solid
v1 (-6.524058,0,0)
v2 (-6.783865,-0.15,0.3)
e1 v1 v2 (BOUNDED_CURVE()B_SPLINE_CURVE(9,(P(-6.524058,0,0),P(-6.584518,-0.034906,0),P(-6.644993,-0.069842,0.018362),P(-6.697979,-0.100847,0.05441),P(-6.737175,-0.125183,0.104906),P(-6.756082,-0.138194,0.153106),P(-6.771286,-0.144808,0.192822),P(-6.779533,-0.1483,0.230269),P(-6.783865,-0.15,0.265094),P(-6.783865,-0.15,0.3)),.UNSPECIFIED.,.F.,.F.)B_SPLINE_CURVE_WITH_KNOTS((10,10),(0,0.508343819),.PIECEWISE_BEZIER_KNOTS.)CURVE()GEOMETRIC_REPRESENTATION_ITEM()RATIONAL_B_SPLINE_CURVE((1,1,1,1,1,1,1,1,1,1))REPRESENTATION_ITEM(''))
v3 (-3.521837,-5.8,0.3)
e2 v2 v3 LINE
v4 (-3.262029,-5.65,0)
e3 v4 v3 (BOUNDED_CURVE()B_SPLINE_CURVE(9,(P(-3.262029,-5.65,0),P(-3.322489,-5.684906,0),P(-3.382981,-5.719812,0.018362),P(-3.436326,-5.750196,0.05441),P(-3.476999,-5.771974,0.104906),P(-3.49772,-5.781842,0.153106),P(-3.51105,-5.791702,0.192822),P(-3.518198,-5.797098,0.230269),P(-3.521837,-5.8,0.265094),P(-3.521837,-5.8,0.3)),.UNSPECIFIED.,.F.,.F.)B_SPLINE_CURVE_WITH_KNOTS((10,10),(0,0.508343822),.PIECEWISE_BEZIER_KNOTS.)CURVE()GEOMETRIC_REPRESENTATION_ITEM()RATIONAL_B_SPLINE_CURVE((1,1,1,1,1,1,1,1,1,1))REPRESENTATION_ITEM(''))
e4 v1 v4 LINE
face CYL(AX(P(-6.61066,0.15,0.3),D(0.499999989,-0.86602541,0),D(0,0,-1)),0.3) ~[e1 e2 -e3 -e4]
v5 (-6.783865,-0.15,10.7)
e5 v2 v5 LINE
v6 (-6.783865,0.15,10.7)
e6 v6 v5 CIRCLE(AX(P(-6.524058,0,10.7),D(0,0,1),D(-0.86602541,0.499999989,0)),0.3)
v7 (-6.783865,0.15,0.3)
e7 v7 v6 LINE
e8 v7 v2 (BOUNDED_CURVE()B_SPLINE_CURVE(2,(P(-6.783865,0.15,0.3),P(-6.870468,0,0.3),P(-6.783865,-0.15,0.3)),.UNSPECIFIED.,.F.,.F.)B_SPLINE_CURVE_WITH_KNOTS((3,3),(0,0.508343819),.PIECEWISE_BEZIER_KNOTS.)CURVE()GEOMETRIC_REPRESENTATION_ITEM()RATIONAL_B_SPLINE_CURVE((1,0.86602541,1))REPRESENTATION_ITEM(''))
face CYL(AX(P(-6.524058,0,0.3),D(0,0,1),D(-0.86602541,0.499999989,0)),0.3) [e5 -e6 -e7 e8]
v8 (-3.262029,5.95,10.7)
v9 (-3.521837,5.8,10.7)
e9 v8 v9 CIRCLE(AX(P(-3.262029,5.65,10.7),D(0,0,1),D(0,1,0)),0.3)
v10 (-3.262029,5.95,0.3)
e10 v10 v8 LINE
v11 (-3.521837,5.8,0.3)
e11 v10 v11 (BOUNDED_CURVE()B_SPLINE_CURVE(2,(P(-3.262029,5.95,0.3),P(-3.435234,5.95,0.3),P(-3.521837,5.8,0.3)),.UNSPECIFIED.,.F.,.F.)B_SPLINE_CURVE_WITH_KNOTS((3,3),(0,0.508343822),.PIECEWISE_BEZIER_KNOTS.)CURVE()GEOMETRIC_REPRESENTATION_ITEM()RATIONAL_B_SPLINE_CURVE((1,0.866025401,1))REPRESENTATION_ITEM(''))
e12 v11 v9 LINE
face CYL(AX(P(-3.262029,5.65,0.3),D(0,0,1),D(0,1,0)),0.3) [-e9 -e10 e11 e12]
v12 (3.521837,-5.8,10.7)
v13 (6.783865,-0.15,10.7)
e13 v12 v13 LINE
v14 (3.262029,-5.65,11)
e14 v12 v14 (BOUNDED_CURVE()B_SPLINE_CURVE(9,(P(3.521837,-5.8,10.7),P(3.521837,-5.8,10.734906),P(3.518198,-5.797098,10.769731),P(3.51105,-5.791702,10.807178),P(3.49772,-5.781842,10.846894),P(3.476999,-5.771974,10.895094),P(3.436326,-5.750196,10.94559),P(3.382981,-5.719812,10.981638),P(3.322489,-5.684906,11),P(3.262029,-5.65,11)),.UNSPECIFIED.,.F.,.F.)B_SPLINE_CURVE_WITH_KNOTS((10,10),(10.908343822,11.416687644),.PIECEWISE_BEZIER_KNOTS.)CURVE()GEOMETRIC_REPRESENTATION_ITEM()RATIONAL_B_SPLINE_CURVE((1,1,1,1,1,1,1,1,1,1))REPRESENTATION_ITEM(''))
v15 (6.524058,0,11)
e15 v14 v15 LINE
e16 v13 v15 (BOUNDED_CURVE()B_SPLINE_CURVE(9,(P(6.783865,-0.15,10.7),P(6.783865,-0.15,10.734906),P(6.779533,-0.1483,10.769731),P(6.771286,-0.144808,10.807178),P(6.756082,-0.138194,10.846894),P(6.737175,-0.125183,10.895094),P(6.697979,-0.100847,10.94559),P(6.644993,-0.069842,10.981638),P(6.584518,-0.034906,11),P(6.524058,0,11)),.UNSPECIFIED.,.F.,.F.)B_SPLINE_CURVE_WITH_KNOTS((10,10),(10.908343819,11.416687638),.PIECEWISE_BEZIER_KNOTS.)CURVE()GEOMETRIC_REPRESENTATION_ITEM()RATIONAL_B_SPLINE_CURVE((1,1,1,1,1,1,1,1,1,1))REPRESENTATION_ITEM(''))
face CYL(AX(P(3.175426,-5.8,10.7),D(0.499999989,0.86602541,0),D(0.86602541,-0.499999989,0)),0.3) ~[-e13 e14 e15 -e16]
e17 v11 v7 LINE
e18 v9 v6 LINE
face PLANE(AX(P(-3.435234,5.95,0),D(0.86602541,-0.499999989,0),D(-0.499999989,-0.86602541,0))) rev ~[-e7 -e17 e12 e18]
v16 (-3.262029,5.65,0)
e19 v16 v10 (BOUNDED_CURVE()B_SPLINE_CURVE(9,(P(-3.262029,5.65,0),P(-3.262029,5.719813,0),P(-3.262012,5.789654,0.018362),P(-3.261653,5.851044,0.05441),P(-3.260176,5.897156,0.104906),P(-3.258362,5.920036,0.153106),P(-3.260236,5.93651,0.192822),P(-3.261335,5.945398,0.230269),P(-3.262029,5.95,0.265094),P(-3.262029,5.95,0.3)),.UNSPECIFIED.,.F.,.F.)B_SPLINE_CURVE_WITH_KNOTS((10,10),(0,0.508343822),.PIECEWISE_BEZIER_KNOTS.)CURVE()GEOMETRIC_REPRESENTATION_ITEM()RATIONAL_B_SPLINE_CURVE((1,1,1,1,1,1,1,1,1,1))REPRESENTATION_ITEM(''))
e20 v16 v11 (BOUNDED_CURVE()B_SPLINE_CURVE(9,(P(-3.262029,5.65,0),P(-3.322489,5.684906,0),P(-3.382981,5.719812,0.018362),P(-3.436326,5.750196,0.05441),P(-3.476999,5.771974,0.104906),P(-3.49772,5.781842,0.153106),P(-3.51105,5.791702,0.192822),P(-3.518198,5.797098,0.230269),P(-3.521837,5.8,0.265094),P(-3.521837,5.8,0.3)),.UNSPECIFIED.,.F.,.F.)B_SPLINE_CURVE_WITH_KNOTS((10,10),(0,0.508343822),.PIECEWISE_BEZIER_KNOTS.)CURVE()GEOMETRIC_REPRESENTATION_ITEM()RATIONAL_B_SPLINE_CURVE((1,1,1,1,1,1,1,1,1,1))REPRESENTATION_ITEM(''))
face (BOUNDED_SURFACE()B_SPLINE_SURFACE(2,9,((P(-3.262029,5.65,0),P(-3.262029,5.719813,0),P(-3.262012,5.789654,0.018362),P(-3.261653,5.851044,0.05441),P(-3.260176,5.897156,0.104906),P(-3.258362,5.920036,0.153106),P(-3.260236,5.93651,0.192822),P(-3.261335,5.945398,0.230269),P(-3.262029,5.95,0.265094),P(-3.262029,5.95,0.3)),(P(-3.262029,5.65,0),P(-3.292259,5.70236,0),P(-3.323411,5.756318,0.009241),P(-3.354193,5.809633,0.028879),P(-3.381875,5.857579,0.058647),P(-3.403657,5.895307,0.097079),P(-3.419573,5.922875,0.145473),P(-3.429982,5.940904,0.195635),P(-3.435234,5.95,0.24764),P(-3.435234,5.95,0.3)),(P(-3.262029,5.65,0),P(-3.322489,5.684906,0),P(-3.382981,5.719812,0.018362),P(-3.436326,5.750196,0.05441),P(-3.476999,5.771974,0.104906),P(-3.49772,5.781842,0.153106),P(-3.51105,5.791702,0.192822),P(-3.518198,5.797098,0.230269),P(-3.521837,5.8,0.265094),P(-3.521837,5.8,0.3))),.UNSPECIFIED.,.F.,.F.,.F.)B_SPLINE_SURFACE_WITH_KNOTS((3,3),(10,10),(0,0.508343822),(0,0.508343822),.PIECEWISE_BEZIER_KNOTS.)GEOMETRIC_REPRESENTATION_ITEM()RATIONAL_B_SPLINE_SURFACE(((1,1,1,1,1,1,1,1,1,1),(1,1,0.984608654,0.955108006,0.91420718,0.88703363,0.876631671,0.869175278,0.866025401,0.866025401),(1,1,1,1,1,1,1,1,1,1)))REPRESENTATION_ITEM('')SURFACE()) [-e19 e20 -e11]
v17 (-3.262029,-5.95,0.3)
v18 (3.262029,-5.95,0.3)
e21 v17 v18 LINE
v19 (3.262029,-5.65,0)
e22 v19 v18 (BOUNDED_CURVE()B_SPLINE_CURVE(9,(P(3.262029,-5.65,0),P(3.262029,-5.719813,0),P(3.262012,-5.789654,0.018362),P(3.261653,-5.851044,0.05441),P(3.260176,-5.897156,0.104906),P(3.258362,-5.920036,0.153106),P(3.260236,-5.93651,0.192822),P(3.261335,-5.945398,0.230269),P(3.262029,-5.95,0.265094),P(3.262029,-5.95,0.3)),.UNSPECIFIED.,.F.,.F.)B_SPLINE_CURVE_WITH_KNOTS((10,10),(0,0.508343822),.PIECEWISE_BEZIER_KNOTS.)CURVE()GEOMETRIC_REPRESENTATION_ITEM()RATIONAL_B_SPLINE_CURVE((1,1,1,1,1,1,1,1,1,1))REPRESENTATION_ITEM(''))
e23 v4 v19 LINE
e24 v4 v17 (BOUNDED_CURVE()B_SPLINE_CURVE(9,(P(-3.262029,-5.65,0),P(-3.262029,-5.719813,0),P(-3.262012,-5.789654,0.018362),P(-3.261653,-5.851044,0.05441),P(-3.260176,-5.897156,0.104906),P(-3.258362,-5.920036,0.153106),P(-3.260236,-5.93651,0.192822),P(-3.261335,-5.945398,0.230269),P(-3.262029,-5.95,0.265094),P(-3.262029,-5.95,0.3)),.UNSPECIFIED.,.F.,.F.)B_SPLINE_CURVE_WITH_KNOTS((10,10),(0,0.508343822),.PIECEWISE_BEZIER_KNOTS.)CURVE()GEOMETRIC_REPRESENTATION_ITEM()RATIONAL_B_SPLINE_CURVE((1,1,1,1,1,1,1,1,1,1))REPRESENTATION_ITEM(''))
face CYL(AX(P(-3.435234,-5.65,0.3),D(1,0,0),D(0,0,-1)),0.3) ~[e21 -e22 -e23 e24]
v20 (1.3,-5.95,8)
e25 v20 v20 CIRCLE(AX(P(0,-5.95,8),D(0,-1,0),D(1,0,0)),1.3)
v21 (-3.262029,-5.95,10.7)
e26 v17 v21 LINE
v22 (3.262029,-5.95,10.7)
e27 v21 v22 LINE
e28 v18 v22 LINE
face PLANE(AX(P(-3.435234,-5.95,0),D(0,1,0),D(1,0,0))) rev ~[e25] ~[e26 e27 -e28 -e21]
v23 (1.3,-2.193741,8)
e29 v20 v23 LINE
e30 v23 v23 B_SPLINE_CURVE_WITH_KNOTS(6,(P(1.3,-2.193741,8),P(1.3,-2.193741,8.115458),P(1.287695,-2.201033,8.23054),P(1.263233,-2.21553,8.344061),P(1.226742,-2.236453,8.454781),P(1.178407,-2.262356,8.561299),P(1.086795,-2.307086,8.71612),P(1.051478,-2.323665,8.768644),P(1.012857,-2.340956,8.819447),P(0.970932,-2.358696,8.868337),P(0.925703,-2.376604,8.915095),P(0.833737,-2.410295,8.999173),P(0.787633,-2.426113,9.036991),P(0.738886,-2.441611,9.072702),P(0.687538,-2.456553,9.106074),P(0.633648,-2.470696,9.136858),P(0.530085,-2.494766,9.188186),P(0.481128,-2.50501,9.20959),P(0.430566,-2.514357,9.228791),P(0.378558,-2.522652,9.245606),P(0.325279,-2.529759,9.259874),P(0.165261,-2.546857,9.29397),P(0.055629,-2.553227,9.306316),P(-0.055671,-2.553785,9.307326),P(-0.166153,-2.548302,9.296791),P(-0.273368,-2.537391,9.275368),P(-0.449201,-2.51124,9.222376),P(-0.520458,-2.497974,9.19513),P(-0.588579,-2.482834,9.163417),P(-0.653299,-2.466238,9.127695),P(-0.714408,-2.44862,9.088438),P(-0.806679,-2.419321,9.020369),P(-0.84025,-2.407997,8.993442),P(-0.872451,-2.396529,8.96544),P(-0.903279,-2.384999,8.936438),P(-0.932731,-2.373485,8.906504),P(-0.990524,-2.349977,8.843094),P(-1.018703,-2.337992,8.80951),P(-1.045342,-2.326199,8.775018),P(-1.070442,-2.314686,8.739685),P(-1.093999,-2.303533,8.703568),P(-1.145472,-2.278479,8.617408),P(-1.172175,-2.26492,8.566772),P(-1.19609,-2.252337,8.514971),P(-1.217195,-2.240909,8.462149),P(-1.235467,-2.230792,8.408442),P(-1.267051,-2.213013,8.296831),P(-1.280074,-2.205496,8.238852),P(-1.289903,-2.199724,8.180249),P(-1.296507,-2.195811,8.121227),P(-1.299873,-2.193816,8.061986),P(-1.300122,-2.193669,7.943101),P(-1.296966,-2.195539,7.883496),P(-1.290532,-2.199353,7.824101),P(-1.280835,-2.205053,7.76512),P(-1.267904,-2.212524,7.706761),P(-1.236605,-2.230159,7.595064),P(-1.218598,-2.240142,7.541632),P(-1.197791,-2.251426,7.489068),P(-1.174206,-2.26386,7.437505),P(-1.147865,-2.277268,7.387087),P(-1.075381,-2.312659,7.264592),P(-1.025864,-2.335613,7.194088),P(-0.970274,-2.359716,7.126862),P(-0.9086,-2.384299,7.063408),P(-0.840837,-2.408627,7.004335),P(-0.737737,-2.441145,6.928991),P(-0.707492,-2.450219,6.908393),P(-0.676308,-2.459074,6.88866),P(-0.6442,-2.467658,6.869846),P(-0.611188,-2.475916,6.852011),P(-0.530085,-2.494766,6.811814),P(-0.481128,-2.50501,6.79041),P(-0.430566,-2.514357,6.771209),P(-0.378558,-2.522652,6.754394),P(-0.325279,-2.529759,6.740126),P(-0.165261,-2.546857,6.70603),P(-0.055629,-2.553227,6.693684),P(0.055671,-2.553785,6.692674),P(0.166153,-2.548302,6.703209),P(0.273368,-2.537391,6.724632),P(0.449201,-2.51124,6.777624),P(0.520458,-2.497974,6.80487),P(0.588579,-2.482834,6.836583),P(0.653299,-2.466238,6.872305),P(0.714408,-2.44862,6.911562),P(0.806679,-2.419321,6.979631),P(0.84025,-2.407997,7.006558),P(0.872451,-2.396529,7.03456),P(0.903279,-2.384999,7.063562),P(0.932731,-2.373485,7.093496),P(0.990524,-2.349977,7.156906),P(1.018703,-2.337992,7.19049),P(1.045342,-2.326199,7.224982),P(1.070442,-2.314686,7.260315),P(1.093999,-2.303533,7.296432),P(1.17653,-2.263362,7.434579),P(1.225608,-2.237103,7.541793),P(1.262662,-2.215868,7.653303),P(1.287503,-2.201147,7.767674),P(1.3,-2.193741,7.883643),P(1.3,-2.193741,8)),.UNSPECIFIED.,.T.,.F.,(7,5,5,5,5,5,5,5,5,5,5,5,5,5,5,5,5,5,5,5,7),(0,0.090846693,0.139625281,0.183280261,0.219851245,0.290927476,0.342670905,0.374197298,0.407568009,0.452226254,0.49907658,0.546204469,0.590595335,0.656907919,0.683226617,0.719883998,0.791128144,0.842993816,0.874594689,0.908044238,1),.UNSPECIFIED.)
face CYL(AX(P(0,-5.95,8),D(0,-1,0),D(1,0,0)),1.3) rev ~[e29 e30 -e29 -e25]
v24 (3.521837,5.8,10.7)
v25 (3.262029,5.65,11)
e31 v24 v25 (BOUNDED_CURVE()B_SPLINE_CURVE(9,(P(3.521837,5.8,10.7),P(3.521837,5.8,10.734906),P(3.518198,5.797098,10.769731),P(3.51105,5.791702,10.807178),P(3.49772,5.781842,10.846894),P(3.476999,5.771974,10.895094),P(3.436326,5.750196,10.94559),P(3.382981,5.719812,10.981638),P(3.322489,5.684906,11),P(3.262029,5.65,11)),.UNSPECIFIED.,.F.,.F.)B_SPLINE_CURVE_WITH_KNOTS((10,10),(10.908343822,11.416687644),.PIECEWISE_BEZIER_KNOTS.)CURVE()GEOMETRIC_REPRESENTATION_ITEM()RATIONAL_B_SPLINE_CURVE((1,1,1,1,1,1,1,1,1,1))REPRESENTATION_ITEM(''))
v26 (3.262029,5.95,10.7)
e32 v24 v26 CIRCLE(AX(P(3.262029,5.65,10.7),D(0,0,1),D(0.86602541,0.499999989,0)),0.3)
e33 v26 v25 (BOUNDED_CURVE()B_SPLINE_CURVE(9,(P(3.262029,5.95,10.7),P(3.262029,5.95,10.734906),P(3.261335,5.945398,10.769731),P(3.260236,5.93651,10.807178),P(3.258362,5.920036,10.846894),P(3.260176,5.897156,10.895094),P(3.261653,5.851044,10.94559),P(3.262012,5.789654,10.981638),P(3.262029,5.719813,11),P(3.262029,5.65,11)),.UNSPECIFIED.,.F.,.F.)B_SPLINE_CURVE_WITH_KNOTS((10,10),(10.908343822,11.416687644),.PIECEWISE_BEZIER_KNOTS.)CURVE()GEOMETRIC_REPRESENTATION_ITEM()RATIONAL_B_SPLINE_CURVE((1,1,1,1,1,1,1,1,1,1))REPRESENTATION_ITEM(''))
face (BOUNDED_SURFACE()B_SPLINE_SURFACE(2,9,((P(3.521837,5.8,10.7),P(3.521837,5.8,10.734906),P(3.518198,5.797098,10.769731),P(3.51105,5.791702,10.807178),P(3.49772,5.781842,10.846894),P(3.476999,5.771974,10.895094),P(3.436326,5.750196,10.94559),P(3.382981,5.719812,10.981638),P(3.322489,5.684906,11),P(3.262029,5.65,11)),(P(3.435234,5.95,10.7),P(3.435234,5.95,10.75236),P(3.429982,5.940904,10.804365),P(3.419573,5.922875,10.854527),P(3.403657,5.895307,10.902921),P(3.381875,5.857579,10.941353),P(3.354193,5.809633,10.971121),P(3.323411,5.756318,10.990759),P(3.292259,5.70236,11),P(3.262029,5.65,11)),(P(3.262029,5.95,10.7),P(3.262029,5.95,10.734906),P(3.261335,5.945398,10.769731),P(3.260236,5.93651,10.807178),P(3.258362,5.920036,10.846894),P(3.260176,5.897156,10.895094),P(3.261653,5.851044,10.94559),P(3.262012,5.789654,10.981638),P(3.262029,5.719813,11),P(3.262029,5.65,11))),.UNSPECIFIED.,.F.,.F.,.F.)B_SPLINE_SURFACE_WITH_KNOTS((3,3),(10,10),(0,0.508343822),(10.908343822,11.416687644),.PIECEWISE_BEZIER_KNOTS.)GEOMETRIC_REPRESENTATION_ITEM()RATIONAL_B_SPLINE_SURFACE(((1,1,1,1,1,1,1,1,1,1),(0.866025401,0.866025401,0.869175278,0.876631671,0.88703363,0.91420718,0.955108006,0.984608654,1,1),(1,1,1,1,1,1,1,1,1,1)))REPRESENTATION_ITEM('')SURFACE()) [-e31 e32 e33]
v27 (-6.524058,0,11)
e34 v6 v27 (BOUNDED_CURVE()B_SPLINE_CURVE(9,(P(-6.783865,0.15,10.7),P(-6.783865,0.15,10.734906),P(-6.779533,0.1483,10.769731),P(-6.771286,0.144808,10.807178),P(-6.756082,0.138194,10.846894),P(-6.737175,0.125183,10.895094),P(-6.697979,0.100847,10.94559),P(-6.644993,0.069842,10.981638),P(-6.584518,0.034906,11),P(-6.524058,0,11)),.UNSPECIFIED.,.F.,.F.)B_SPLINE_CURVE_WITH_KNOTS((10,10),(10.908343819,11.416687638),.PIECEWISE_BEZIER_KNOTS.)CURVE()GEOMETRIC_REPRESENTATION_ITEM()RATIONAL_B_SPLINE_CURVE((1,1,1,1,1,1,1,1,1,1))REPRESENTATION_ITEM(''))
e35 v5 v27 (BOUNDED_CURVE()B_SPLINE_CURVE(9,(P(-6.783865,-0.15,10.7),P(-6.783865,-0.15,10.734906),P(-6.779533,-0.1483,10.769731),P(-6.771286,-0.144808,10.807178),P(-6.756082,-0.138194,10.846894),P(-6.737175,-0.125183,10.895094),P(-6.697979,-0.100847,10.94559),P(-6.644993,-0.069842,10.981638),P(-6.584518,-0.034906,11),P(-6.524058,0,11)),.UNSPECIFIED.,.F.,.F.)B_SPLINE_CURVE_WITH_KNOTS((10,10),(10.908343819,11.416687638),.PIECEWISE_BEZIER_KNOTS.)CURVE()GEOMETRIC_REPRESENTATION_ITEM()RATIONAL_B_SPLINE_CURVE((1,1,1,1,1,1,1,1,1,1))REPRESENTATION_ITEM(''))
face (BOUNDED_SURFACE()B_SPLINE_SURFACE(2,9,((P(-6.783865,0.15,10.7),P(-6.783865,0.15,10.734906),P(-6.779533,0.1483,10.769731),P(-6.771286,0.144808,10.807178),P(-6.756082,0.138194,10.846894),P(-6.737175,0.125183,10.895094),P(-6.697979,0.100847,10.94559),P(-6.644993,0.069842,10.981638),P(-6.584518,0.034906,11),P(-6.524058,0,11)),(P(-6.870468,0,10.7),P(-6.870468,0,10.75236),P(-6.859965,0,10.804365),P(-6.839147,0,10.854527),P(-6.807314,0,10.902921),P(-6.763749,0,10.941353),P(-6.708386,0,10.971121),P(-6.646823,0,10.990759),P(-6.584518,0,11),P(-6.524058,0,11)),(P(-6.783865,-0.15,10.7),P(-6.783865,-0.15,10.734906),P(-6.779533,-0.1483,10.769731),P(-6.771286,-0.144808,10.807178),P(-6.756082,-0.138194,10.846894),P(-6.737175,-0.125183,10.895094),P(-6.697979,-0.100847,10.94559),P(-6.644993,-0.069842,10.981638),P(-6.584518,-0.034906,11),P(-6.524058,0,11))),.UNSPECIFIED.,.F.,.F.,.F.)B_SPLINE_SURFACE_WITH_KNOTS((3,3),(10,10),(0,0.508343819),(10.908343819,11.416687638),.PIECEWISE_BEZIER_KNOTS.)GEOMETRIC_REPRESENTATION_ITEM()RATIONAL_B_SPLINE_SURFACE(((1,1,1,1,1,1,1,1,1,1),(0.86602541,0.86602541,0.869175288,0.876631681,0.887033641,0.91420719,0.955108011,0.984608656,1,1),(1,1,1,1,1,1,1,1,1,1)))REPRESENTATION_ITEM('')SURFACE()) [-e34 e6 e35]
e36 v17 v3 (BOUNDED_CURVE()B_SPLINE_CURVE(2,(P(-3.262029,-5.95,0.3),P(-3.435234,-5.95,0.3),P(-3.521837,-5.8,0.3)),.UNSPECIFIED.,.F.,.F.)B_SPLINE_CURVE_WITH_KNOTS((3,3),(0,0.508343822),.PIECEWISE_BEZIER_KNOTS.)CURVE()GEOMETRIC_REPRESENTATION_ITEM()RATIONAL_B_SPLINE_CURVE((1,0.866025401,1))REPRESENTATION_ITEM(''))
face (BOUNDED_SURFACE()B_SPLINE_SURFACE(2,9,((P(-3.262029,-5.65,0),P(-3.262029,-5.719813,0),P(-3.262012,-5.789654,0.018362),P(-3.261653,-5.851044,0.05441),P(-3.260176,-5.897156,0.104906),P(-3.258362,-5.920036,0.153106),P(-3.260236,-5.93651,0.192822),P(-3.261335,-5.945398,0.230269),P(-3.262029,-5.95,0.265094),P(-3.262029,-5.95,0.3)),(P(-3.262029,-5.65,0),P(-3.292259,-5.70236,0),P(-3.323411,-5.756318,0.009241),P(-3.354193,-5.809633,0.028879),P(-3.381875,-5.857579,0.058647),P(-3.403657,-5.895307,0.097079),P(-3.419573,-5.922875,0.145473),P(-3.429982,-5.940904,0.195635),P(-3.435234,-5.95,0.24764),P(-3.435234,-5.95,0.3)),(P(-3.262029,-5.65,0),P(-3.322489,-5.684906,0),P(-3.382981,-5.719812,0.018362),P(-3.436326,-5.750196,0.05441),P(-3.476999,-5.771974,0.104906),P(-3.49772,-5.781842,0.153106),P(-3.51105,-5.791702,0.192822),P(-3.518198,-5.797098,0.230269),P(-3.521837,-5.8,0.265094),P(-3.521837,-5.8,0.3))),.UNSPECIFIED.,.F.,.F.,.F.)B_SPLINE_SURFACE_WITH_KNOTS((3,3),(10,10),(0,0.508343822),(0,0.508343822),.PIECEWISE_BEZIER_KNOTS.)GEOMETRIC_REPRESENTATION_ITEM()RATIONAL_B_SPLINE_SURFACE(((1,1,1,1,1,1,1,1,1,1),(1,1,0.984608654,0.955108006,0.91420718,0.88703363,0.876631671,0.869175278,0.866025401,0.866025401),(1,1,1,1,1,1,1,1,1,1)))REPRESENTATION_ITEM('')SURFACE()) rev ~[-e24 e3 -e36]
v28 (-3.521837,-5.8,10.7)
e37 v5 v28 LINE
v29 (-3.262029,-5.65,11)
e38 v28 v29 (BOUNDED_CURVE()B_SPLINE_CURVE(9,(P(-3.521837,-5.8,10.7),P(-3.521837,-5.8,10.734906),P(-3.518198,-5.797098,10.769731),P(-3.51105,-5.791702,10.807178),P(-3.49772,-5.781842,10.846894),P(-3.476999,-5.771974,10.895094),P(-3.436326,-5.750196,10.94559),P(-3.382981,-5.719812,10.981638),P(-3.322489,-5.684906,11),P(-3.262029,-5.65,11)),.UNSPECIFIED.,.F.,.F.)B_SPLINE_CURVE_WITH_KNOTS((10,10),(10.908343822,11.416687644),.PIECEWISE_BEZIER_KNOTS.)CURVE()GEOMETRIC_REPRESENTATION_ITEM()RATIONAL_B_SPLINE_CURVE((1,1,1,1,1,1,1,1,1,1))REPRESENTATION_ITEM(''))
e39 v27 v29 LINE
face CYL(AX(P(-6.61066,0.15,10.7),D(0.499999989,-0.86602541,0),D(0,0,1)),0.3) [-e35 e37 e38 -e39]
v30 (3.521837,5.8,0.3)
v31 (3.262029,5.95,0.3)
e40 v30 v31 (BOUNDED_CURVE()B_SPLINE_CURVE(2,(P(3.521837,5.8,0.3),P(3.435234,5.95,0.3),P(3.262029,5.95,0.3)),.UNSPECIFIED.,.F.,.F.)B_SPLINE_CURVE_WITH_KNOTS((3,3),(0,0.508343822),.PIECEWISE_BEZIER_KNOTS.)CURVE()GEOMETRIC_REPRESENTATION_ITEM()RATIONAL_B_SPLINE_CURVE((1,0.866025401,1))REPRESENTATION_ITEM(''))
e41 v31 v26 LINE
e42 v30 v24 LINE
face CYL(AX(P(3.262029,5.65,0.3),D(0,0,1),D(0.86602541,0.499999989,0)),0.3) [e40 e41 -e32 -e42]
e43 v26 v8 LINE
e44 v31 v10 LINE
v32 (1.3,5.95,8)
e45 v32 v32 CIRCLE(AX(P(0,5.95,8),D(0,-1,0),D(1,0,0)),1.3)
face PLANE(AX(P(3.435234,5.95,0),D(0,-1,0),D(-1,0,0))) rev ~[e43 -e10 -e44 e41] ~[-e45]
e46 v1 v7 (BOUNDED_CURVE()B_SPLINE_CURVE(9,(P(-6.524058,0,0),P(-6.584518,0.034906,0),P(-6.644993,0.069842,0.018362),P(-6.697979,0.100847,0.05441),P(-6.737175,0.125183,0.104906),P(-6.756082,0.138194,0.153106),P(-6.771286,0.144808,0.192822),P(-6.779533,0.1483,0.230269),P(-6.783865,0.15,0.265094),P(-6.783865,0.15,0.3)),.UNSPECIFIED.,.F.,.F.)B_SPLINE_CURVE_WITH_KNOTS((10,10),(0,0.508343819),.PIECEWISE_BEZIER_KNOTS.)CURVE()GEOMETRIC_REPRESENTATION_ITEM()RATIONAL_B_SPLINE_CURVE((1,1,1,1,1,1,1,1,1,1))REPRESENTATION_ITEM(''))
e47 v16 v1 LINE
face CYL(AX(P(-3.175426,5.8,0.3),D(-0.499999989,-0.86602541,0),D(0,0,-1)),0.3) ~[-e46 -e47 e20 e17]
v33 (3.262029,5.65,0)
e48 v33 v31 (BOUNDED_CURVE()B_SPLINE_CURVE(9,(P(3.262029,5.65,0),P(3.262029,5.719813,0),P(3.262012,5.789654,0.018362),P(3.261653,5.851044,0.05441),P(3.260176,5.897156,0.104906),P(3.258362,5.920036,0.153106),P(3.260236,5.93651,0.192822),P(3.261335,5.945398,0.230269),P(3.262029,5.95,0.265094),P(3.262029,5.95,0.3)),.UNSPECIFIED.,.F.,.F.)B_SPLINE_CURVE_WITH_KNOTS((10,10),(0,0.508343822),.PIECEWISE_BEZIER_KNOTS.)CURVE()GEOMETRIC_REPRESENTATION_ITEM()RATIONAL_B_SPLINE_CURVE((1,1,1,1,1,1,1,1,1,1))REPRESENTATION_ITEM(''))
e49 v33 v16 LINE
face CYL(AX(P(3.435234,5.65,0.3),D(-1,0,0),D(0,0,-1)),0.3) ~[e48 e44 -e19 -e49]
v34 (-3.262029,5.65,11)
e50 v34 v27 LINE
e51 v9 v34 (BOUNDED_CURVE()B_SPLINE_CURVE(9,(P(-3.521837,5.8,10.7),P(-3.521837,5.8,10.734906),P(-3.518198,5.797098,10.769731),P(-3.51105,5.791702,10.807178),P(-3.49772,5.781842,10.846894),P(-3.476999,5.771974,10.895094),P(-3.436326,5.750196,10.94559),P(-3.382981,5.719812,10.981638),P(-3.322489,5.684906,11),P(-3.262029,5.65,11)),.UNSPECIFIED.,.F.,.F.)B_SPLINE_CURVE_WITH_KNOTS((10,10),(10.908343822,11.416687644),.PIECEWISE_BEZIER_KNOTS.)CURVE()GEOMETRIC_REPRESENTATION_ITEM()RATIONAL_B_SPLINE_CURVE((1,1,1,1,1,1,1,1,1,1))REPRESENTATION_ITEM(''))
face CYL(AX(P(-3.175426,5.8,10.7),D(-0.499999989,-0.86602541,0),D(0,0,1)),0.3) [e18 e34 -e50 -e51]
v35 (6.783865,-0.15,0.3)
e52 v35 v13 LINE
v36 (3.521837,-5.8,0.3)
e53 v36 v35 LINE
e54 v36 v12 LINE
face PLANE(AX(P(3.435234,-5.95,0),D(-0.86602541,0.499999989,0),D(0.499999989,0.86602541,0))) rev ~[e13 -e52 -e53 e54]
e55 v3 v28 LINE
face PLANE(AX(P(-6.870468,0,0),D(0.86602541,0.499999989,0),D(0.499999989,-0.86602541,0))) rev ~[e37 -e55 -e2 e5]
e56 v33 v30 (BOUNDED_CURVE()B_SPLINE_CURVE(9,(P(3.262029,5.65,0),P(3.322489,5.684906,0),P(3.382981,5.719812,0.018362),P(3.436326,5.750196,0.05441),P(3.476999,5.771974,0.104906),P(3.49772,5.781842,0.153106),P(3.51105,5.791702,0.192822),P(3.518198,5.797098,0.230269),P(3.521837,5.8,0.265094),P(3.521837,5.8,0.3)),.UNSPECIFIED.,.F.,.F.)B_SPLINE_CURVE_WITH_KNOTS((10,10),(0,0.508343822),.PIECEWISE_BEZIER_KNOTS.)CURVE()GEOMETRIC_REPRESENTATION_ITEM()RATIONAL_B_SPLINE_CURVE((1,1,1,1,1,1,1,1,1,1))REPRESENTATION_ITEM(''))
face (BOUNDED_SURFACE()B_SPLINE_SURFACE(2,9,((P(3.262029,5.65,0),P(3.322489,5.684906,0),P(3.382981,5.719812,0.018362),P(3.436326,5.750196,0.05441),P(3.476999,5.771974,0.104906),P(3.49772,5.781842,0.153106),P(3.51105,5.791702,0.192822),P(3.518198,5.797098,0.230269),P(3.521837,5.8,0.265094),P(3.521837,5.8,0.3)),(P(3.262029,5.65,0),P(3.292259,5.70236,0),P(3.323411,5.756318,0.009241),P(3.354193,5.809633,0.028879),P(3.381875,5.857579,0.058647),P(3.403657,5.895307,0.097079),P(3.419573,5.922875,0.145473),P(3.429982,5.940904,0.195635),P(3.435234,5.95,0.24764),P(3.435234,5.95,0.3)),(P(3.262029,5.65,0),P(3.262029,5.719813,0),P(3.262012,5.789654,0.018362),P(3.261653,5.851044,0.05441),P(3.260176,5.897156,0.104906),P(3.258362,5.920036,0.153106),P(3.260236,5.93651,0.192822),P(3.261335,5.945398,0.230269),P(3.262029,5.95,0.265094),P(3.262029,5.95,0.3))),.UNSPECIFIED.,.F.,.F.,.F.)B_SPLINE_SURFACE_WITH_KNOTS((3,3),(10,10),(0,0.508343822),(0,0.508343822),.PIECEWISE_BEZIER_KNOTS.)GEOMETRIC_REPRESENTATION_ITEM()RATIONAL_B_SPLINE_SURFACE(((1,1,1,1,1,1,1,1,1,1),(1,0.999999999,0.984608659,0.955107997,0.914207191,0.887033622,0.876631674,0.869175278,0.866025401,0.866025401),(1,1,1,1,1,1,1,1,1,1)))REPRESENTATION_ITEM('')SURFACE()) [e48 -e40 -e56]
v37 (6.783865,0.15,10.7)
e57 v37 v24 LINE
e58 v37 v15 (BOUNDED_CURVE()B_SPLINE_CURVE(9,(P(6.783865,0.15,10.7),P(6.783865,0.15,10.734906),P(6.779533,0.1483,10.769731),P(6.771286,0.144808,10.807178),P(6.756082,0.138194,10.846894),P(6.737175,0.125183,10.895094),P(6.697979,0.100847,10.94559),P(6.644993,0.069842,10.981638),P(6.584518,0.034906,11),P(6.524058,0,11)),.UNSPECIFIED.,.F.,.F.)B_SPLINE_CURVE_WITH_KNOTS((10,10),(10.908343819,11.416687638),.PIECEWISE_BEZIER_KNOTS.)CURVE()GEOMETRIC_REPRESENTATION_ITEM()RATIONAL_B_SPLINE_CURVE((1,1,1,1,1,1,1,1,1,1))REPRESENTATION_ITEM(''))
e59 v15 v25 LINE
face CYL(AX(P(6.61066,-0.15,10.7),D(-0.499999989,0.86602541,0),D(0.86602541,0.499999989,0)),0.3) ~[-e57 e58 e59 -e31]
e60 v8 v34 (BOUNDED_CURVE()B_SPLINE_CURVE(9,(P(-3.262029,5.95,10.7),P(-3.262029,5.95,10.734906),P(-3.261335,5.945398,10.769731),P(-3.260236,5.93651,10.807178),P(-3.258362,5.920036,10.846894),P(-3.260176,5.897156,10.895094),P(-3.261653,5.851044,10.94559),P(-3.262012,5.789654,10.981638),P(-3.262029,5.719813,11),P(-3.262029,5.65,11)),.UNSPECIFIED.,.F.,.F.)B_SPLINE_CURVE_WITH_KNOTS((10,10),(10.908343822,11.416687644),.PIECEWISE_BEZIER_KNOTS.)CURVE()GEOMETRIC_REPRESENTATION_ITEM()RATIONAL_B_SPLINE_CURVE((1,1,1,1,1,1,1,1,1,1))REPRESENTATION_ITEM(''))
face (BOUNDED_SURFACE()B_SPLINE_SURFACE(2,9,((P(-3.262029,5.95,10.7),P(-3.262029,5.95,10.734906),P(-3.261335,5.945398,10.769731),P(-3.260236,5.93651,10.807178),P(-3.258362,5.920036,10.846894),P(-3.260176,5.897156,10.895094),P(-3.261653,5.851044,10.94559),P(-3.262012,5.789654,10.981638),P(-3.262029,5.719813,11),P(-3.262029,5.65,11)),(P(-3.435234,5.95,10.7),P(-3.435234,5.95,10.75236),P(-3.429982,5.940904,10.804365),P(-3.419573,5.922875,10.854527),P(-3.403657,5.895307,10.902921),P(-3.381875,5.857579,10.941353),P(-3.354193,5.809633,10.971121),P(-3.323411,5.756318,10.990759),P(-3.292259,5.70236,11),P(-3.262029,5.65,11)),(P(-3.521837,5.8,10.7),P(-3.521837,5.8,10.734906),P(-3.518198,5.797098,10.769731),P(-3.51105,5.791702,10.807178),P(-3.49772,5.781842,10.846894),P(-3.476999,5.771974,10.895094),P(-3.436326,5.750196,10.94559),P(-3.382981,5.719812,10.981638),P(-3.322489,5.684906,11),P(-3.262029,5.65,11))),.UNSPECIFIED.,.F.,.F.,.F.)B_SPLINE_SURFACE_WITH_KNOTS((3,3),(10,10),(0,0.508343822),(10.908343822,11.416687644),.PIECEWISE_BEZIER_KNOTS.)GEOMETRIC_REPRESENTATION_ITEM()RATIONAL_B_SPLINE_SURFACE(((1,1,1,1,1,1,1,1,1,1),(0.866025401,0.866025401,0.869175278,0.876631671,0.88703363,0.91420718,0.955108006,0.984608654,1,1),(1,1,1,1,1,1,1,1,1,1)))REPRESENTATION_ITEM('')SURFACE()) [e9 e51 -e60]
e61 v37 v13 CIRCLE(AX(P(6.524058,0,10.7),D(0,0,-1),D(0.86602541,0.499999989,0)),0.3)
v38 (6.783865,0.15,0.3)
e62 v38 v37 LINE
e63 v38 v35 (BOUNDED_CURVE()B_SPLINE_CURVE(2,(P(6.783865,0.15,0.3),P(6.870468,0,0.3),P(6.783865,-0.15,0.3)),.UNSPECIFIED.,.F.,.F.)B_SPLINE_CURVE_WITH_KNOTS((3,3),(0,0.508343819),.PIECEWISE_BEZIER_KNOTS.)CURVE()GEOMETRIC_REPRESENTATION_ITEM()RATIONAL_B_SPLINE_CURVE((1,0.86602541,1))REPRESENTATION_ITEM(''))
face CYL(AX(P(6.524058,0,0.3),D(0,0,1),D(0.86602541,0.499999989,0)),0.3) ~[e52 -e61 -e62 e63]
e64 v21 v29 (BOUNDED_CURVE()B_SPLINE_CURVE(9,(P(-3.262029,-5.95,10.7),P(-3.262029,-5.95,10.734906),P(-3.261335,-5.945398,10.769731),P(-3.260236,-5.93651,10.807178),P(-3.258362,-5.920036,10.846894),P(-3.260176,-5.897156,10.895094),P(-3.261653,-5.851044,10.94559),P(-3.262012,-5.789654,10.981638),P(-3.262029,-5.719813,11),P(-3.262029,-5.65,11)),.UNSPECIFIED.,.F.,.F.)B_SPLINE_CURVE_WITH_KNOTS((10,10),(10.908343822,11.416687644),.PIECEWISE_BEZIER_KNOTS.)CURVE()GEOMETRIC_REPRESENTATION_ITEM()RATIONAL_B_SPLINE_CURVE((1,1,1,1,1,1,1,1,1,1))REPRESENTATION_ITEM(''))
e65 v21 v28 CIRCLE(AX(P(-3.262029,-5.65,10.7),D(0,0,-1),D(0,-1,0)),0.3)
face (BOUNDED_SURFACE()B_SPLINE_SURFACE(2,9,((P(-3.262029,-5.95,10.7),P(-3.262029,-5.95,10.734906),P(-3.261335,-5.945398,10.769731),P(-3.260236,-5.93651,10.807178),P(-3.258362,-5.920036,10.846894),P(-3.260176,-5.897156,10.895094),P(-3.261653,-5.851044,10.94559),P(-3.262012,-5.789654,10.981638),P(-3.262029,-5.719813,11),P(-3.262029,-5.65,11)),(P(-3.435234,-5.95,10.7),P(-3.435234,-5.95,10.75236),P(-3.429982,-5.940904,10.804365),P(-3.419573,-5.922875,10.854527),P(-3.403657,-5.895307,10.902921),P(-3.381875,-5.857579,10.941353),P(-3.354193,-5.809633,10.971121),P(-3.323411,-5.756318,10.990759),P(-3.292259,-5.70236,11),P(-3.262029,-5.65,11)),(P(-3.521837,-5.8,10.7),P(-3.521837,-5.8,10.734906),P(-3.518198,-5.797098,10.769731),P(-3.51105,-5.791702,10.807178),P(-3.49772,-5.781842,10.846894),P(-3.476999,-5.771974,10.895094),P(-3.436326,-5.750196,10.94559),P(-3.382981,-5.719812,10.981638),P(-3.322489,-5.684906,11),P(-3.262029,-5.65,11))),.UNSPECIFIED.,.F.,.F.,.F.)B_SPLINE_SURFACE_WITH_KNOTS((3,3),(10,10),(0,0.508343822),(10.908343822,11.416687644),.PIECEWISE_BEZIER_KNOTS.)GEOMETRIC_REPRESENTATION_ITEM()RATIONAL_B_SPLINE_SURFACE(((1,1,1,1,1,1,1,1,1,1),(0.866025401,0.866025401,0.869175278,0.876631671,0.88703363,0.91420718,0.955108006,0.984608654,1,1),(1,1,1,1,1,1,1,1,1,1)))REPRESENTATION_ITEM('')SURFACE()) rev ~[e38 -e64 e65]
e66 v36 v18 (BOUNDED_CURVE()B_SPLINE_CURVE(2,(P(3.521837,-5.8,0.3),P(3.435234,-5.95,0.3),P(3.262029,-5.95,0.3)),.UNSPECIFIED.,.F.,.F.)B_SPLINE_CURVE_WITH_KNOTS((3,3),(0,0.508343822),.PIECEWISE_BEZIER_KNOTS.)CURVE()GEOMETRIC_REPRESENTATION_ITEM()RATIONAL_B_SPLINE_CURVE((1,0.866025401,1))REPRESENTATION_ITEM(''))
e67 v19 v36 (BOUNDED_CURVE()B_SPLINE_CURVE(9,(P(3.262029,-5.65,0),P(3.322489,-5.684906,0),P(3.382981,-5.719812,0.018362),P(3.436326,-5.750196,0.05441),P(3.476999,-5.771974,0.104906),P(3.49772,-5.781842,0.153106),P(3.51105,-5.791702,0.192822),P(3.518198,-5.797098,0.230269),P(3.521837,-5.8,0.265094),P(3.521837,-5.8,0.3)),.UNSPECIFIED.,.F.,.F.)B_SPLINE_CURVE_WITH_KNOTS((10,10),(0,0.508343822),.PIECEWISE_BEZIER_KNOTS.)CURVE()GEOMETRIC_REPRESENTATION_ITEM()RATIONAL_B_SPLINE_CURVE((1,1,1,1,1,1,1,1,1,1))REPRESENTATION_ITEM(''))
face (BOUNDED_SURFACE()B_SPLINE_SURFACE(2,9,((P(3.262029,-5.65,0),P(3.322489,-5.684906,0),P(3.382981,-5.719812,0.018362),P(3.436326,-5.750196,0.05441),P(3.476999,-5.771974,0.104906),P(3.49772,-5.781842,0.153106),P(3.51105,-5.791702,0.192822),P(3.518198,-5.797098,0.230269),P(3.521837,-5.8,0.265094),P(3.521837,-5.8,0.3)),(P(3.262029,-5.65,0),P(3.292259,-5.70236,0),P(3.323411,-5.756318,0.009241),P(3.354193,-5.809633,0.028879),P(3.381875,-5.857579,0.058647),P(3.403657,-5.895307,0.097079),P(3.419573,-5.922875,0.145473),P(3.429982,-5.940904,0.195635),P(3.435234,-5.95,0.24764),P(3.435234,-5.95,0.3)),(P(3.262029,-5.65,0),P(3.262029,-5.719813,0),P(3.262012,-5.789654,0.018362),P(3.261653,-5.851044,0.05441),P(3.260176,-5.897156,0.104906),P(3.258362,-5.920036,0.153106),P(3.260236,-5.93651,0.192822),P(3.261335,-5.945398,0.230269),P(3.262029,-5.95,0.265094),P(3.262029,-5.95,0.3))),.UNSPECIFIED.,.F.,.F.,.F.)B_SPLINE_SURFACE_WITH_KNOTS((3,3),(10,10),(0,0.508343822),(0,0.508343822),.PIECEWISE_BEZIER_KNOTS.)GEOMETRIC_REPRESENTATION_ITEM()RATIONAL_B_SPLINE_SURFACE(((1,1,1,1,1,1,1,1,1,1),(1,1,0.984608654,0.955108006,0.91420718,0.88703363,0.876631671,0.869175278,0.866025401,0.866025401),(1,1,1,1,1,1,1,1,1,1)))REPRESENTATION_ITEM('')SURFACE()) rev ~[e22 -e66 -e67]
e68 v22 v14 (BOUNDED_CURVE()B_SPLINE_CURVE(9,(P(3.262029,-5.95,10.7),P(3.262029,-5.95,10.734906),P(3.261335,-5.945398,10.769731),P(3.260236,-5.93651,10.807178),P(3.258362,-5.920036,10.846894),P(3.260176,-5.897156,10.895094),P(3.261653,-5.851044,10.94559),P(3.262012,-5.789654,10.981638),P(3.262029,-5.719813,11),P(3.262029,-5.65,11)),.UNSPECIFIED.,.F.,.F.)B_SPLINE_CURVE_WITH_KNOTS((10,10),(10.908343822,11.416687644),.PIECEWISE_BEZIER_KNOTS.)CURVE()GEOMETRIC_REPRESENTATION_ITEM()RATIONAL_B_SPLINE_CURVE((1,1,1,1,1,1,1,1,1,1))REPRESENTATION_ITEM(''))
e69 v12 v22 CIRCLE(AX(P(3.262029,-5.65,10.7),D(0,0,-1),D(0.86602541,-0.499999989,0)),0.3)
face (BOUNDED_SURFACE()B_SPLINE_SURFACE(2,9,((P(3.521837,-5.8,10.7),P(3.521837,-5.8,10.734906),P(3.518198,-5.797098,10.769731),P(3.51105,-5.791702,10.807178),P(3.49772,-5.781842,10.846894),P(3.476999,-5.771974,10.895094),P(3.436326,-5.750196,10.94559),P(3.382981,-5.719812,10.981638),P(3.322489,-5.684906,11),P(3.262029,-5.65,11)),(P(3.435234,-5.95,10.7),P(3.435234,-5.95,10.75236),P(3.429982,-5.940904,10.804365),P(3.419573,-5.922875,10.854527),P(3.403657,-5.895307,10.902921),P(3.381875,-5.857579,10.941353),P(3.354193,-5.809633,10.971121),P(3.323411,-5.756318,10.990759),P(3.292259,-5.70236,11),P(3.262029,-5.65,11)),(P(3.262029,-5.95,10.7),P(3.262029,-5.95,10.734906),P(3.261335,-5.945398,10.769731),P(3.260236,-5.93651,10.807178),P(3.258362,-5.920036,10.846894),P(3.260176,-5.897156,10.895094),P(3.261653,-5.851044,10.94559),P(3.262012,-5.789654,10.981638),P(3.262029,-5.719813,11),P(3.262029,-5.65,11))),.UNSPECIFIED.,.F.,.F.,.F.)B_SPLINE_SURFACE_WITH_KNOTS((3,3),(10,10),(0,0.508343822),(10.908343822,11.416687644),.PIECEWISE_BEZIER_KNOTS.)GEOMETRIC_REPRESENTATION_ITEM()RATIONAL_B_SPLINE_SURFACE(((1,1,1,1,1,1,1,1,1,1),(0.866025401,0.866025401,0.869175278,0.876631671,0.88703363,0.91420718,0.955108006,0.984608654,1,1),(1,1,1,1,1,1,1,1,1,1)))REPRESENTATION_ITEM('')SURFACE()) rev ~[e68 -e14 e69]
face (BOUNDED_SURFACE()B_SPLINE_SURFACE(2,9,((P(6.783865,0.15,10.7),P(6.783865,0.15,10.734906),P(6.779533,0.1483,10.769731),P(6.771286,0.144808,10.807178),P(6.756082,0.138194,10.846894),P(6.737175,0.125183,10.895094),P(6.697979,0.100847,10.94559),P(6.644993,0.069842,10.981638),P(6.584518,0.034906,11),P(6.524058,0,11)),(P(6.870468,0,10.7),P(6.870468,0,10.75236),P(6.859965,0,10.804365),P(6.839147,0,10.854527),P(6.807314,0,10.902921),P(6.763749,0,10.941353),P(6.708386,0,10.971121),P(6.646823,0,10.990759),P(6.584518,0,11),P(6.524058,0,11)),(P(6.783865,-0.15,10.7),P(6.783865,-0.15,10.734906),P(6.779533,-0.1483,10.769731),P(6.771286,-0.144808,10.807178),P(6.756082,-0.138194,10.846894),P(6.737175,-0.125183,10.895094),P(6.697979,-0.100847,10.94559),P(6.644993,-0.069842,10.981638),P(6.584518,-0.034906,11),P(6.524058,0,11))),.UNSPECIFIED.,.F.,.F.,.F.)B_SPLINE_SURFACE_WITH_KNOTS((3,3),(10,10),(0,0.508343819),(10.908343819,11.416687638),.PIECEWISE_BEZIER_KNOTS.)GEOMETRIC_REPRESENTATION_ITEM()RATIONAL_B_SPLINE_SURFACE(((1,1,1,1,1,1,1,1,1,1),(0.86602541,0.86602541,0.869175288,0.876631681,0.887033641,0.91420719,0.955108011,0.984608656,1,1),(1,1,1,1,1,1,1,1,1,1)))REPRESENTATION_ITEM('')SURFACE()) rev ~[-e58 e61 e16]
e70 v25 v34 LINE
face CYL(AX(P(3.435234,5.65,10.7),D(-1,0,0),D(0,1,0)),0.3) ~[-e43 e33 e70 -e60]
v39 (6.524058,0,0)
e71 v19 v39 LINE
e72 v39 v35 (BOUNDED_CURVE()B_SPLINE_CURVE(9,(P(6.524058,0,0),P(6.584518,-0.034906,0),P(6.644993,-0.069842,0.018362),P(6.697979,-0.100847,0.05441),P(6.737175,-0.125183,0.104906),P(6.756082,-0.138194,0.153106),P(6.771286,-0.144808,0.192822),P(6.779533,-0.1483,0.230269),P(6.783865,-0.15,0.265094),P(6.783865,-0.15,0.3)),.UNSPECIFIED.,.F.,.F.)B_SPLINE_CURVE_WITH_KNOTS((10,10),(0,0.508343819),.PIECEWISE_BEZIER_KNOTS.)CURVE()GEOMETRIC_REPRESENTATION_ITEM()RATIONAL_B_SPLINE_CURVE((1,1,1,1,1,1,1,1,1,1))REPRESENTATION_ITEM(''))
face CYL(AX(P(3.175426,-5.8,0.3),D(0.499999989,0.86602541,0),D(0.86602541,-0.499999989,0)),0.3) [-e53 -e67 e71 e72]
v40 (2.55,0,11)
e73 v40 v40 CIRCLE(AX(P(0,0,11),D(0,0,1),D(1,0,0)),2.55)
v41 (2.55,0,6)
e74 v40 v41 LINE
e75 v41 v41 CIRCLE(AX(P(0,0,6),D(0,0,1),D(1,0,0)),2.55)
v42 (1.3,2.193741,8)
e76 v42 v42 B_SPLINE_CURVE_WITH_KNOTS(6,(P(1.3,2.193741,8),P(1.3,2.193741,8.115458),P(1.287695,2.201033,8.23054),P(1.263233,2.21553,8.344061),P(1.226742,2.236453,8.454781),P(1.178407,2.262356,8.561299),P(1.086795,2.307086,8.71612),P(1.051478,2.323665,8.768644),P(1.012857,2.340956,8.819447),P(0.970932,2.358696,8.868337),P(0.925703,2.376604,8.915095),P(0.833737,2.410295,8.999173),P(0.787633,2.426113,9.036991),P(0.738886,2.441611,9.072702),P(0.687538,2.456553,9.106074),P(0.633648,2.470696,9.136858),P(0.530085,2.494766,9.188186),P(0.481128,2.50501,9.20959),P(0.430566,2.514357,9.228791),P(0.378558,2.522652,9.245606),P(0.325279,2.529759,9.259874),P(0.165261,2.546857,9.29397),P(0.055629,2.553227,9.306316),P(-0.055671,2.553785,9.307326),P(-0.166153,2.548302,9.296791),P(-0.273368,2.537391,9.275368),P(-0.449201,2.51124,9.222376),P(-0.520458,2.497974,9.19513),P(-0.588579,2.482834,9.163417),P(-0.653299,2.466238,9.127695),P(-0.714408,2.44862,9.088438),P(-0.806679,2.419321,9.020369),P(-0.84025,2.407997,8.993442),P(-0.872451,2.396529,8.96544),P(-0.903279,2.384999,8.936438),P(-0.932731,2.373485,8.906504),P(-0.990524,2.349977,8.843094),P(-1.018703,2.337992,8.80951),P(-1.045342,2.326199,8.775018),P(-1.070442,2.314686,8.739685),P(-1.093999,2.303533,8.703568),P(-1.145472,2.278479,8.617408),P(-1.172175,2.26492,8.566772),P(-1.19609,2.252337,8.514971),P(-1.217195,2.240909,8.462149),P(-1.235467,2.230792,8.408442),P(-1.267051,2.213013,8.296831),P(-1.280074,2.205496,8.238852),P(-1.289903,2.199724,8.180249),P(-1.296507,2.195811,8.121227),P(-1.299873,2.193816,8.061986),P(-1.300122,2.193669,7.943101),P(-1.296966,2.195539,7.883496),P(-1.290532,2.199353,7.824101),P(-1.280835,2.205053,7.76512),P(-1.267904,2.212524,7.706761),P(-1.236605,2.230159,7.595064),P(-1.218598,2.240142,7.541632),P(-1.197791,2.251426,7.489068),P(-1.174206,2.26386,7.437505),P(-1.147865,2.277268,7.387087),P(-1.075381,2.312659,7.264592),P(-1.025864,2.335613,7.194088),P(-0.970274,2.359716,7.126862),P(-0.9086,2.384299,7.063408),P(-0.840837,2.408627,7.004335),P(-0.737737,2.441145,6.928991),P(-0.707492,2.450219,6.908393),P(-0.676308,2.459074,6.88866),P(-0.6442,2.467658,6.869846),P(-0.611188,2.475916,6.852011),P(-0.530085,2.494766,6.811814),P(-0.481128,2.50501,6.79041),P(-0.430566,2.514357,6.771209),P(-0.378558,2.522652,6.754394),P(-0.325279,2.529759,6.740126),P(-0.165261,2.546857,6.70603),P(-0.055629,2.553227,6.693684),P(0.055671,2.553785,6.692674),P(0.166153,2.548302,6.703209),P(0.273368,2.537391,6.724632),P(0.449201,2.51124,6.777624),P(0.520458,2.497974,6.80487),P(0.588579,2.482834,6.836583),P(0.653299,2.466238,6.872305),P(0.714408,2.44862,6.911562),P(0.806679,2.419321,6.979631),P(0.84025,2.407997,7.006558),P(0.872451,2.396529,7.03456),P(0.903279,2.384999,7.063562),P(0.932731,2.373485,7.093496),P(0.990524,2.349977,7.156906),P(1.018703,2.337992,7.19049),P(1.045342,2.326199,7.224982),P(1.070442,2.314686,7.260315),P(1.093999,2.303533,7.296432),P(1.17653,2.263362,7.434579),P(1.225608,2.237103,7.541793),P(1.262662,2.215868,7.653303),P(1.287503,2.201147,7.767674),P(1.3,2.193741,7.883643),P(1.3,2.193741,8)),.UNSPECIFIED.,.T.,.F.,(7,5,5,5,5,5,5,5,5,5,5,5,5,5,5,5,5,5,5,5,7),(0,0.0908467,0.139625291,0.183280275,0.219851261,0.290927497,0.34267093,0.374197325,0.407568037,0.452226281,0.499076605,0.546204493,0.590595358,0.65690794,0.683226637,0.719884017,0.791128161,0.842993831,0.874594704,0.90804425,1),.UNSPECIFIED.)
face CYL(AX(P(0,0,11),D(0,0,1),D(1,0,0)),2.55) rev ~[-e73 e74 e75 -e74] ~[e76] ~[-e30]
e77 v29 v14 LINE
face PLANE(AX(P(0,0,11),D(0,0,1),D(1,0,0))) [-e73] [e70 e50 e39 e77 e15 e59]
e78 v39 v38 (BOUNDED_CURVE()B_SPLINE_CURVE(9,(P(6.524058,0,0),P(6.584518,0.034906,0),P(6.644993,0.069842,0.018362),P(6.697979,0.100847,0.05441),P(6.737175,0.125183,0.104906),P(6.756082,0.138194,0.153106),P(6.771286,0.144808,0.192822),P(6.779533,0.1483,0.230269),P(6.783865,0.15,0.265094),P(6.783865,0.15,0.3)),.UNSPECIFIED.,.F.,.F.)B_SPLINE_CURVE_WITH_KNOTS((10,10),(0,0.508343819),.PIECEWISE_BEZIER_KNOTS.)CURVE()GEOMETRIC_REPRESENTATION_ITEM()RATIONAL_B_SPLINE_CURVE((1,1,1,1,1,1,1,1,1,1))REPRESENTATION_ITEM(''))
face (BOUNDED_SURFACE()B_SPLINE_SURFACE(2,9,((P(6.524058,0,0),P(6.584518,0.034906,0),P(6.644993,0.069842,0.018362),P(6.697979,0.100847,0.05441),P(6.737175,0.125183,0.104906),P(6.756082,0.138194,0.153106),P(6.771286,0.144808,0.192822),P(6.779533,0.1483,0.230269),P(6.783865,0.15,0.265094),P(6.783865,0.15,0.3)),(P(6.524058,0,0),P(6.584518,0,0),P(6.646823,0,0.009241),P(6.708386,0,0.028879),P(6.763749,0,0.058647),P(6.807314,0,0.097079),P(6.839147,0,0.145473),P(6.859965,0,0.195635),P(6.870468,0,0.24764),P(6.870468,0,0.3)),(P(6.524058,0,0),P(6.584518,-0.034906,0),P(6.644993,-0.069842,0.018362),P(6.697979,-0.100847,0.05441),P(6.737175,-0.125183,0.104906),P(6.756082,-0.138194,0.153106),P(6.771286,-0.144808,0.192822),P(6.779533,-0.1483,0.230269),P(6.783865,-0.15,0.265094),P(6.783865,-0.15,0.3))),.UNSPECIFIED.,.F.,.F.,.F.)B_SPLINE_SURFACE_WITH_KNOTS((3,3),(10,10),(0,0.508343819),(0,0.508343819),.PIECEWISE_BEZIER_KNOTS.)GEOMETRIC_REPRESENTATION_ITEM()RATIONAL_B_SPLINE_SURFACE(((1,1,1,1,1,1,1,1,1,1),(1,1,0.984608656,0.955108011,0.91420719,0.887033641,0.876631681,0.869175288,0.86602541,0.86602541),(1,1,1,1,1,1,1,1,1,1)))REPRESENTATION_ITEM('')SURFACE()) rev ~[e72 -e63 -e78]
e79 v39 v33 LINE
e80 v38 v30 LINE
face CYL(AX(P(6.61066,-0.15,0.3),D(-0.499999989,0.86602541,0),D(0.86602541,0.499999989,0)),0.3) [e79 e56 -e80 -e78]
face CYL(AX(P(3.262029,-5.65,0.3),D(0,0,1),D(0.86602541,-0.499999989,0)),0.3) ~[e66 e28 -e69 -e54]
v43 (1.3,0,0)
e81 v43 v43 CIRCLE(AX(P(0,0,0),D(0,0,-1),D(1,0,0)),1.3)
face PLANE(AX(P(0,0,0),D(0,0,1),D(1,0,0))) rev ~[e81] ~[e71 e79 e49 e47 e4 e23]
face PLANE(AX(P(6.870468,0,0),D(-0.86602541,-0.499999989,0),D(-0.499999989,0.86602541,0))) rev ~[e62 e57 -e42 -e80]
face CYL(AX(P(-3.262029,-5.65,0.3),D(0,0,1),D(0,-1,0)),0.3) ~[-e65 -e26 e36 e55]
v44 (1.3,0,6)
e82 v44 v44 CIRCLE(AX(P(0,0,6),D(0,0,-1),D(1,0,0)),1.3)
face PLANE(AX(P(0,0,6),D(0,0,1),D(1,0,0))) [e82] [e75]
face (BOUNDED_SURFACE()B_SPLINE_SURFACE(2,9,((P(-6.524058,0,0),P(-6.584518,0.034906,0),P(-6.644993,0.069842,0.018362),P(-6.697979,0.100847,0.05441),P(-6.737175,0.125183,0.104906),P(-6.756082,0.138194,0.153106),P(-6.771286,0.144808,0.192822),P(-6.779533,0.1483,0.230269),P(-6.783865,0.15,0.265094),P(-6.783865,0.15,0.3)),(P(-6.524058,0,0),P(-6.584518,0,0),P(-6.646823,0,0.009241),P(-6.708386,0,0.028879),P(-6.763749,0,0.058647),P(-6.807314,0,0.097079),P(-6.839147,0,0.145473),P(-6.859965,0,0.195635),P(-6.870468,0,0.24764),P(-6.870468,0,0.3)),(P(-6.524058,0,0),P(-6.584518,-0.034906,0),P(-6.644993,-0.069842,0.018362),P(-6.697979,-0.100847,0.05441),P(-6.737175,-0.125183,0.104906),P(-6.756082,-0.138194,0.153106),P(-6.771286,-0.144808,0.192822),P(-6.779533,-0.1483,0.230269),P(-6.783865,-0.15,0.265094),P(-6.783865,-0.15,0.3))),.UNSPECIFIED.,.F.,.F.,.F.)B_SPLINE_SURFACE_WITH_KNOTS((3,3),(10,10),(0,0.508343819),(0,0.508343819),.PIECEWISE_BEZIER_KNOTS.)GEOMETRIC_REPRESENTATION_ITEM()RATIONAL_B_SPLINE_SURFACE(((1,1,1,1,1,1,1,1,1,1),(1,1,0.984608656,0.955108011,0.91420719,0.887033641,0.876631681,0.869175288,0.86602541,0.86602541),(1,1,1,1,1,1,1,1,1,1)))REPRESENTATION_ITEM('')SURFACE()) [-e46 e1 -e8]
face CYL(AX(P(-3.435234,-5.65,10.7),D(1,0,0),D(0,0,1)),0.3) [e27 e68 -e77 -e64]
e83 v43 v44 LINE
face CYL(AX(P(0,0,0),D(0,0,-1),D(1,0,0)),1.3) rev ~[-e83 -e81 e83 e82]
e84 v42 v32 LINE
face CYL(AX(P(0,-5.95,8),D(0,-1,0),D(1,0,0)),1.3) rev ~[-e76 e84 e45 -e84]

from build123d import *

# Parameters (mm, degrees)
PAD_DEPTH       = 11
SKETCH001_R     = 2.55
POCKET_DEPTH    = 5
SKETCH002_R     = 1.3
POCKET001_DEPTH = 7
SKETCH003_R     = 1.3
POCKET002_DEPTH = 12
FILLET_R        = 0.3
FILLET001_R     = 0.3
FILLET002_R     = 0.3


with BuildPart() as part:
    # Sketch → Pad (new body)
    with BuildSketch(Plane.XY):
        Polygon((6.870468, 0), (3.435234, 5.95), (-3.435234, 5.95), (-6.870468, 0), (-3.435234, -5.95), (3.435234, -5.95), align=None)
    extrude(amount=PAD_DEPTH)

    # Sketch001 (on Face8 of Pad) → Pocket (cut)
    with BuildSketch(Plane.XY.offset(11)):
        Circle(SKETCH001_R)
    extrude(amount=-POCKET_DEPTH, mode=Mode.SUBTRACT)

    # Sketch002 (on Face4 of Pocket) → Pocket001 (cut)
    with BuildSketch(Plane(origin=(0, 0, 0), x_dir=(1, 0, 0), z_dir=(0, 0, -1))):
        Circle(SKETCH002_R)
    extrude(amount=-POCKET001_DEPTH, mode=Mode.SUBTRACT)

    # Sketch003 (on Face6 of Pocket001) → Pocket002 (cut)
    with BuildSketch(Plane.XZ.offset(5.95)):
        with Locations((0, 8)):
            Circle(SKETCH003_R)
    extrude(amount=-POCKET002_DEPTH, mode=Mode.SUBTRACT)

    # Fillet
    fillet_edges = [part.edges().sort_by_distance(p)[0] for p in [
        (5.152851, -2.975, 11),
        (0, -5.95, 11),
        (-5.152851, -2.975, 11),
        (-5.152851, 2.975, 11),
        (0, 5.95, 11),
        (5.152851, 2.975, 11),
    ]]
    fillet(fillet_edges, radius=FILLET_R)

    # Fillet001
    fillet001_edges = [part.edges().sort_by_distance(p)[0] for p in [
        (0, 5.95, 0),
        (-5.152851, 2.975, 0),
        (-5.152851, -2.975, 0),
        (0, -5.95, 0),
        (5.152851, -2.975, 0),
        (5.152851, 2.975, 0),
    ]]
    fillet(fillet001_edges, radius=FILLET001_R)

    # Fillet002
    fillet002_edges = [part.edges().sort_by_distance(p)[0] for p in [
        (3.435234, -5.95, 5.5),
        (6.870468, 0, 5.5),
        (-3.435234, -5.95, 5.5),
        (-6.870468, 0, 5.5),
        (-3.435234, 5.95, 5.5),
        (3.435234, 5.95, 5.5),
    ]]
    fillet(fillet002_edges, radius=FILLET002_R)


solid = part.part
